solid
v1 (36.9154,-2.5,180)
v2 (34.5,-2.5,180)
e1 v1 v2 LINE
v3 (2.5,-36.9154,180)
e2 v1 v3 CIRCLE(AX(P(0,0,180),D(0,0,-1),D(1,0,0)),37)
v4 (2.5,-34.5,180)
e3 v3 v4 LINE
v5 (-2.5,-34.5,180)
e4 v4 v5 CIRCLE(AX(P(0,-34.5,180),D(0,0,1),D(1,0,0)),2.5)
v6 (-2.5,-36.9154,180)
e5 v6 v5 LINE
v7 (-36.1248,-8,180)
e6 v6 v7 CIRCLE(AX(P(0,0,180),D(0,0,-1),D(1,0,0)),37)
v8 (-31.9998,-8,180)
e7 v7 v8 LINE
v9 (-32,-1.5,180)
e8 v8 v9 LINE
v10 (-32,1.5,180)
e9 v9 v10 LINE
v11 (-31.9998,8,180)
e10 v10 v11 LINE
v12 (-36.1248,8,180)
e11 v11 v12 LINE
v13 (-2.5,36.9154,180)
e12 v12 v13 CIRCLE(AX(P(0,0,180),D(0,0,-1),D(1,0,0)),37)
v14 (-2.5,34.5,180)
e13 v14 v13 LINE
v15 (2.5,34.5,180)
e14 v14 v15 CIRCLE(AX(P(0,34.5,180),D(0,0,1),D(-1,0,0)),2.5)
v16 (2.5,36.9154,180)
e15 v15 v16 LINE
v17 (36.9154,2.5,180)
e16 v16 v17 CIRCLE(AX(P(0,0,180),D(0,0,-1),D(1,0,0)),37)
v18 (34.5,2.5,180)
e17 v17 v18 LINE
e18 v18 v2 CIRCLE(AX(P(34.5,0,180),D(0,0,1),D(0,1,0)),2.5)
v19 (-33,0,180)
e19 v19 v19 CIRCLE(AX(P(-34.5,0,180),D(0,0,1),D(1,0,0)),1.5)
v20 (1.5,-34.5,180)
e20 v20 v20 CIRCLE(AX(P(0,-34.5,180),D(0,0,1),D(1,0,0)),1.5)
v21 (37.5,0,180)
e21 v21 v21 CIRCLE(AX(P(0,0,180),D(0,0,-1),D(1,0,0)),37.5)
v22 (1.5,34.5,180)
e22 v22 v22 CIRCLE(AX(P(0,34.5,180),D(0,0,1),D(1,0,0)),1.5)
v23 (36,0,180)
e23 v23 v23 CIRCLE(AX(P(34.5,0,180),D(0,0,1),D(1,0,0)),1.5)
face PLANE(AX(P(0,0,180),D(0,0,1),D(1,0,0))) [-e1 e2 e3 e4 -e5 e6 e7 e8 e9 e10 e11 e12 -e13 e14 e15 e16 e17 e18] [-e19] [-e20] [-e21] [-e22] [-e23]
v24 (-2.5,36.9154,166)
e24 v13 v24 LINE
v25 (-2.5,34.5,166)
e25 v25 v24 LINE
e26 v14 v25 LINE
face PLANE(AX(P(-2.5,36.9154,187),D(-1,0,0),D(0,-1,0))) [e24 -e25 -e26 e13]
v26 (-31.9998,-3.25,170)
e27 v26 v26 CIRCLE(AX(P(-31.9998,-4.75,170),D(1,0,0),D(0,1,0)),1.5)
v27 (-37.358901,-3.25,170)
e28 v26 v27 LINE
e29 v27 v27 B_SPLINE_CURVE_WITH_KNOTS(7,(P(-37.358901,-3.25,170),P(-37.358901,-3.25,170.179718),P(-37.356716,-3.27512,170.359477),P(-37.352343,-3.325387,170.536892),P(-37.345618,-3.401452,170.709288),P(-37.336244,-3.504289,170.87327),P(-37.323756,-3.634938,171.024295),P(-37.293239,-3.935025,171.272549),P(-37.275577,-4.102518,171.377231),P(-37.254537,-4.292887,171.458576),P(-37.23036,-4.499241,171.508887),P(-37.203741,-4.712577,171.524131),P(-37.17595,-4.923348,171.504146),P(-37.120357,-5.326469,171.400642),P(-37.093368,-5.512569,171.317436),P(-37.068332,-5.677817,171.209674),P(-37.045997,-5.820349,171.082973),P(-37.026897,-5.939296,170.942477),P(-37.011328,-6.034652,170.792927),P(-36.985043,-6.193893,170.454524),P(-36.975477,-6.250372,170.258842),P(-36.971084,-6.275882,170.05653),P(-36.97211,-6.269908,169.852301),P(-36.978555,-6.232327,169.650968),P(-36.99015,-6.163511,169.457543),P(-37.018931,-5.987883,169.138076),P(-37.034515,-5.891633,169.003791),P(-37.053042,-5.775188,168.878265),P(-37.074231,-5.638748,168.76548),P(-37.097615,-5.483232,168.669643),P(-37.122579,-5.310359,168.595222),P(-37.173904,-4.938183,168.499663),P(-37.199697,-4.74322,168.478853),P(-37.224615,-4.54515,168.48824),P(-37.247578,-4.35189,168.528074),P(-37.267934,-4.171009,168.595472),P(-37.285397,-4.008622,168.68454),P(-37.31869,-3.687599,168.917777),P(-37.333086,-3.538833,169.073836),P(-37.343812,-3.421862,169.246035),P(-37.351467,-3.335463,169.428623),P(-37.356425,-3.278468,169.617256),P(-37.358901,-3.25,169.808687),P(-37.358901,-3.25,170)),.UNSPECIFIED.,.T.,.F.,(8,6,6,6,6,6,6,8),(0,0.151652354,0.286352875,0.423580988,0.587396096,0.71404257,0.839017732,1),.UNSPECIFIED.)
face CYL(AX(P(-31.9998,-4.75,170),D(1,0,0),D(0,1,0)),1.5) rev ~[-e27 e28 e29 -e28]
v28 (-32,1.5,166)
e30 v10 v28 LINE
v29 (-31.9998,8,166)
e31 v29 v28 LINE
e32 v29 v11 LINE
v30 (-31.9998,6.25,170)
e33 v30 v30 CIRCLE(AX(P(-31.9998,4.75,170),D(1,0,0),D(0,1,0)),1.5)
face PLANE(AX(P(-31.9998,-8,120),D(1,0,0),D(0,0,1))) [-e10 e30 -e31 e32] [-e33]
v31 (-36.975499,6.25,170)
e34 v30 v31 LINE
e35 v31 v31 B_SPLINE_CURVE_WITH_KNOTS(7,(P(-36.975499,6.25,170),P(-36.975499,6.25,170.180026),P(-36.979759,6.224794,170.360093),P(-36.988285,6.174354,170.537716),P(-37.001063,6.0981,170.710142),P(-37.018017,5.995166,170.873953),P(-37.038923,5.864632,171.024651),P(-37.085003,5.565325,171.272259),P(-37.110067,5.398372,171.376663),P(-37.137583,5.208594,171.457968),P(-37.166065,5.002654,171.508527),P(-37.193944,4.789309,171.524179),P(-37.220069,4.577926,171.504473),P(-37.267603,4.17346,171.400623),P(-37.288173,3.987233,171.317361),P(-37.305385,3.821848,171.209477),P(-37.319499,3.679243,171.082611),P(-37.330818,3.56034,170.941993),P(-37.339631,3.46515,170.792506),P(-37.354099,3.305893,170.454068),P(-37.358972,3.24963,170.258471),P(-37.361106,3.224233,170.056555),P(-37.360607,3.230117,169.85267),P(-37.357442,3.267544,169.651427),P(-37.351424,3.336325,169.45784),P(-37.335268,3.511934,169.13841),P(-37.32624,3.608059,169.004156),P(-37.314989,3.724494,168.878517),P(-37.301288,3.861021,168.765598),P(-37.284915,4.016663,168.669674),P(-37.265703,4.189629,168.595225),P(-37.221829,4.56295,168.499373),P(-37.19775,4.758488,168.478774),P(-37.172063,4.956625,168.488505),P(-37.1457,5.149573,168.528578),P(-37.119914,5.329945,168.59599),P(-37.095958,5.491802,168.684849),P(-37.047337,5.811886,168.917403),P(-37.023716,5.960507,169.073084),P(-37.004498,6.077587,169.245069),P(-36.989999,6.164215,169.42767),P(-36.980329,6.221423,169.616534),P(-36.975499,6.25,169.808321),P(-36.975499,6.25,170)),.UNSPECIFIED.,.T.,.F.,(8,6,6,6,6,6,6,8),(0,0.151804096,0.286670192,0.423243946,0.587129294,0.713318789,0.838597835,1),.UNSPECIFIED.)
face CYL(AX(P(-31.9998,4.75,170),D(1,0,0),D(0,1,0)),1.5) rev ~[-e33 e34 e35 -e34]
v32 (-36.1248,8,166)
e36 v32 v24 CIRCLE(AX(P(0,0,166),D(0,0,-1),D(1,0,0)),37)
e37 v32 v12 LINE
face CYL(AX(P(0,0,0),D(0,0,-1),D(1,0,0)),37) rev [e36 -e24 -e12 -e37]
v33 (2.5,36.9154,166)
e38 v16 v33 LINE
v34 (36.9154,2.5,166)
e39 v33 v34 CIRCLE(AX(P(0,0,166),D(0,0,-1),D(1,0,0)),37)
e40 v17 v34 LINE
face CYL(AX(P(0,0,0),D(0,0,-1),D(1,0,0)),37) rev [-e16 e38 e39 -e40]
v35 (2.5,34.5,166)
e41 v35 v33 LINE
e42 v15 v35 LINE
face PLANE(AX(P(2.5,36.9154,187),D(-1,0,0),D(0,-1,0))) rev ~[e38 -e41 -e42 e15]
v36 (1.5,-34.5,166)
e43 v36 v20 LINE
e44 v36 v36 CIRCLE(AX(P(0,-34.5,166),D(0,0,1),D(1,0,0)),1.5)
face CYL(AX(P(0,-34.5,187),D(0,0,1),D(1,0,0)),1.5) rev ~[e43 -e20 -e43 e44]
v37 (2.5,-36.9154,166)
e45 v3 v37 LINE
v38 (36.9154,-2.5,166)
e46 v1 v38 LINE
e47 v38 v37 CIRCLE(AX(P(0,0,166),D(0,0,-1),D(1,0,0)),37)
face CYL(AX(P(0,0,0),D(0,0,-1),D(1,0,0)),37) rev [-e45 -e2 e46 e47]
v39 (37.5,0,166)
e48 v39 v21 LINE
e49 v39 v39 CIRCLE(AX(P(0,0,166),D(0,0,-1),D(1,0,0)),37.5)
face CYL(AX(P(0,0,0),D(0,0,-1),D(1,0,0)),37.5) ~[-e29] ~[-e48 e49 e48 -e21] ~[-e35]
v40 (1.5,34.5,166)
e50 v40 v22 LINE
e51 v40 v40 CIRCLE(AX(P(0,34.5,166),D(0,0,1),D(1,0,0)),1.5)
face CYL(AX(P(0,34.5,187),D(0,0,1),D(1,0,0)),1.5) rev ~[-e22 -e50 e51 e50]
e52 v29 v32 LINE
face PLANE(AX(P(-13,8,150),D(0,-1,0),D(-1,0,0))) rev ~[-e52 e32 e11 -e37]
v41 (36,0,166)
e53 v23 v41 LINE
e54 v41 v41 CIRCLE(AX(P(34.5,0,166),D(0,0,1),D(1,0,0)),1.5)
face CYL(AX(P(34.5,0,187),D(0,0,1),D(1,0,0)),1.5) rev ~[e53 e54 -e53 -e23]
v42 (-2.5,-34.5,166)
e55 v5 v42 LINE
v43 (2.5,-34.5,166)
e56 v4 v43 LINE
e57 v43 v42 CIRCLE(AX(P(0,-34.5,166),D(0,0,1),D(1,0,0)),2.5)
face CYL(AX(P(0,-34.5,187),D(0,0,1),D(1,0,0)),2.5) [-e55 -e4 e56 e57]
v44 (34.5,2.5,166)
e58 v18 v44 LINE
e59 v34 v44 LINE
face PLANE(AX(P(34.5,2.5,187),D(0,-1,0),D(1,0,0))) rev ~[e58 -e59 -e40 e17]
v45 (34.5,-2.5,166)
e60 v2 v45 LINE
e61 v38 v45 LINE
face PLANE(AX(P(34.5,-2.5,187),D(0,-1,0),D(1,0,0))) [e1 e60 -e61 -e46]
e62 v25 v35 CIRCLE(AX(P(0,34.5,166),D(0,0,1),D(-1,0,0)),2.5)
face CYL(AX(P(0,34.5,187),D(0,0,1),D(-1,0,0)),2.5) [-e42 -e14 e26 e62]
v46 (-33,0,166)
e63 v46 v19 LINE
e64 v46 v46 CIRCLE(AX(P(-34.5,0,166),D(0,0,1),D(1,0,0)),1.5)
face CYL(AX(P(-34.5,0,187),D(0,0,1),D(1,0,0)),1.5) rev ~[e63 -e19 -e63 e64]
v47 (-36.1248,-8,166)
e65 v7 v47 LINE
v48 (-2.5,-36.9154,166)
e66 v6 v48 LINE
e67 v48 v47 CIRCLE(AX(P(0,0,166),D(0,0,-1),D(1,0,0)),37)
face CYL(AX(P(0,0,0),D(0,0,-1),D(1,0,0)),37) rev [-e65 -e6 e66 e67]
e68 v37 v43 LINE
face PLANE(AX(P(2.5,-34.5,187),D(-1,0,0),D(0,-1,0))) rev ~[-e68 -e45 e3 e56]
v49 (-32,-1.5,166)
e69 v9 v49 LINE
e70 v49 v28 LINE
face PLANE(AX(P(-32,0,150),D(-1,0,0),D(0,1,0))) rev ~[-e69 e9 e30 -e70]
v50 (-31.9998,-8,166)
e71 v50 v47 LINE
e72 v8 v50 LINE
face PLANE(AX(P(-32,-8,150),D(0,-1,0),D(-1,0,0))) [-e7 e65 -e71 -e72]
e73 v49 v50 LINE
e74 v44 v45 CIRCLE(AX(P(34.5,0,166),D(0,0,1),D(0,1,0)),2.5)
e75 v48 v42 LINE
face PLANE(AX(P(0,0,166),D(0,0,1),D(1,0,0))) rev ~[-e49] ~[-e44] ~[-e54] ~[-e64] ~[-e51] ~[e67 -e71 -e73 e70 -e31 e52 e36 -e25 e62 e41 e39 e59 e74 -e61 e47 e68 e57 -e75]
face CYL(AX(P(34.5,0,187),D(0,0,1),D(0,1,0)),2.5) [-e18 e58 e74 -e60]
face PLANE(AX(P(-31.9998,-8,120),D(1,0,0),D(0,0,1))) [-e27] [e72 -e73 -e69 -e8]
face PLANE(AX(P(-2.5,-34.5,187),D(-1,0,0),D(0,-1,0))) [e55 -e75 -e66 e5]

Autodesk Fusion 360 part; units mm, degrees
sketch "Esboço2" plane through (0, 0, 0) normal (0, 0, 1) x (1, 0, 0)
  circle A0 centre (0, 0) radius 37.5
  circle A1 centre (0, 0) radius 37
  dimension "d6" = 75
  dimension "d7" = 74
extrude "Extrusão2" add sketch "Esboço2" along normal blind 190
ref_plane "Plano de trabalho9" through (0, 0, 187) normal (0, 0, 1) x (1, 0, 0)
sketch "Esboço10" plane through (0, 0, 187) normal (0, 0, 1) x (1, 0, 0)
  circle A0 centre (0, 0) radius 34.5 construction
  line L0 (0, 0) -> (-68.1762, 0) construction
  line L1 (0, 0) -> (60, 0) construction
  line L2 (0, 0) -> (0, 45) construction
  line L3 (0, 0) -> (0, -43.1659) construction
  circle A1 centre (34.5, 0) radius 1.5
  line L4 (3, -43) -> (3, -42)
  circle A2 centre (0, 34.5) radius 1.5
  circle A3 centre (-34.5, 0) radius 1.5
  circle A4 centre (0, -34.5) radius 1.5
  arc A5 (34.5, 2.5) -> (34.5, -2.5) centre (34.5, 0) ccw
  arc A6 (-2.5, 34.5) -> (2.5, 34.5) centre (0, 34.5) ccw
  arc A7 (-34.5, -2.5) -> (-34.5, 2.5) centre (-34.5, 0) ccw
  arc A8 (2.5, -34.5) -> (-2.5, -34.5) centre (0, -34.5) ccw
  circle A9 centre (0, 0) radius 37
  line L5 (-36.9154, 2.5) -> (-34.4093, 2.5)
  line L6 (-36.9154, -2.5) -> (-34.4093, -2.5)
  line L7 (34.5, 2.5) -> (36.9154, 2.5)
  line L8 (34.5, -2.5) -> (36.9154, -2.5)
  line L9 (2.5, 36.9154) -> (2.5, 34.4093)
  line L10 (-2.5, 36.9154) -> (-2.5, 34.4093)
  line L11 (-2.5, -34.4093) -> (-2.5, -36.9154)
  line L12 (2.5, -34.4093) -> (2.5, -36.9154)
  dimension "d82" = 69
  dimension "d83" = 3
  dimension "d84" = 2.5
  dimension "d85" = 2.5
  dimension "d87" = 360
  dimension "d89" = 360
  dimension "d90" = 2.5
extrude "Extrusão12" add sketch "Esboço10" against normal blind 184 contours A5 A9 L7 L8 | A6 A9 L9 L10 | A8 A9 L11 L12 | A7 A9 L5 L6
thread "Rosca3"
ref_plane "Plano de trabalho3" through (0, 0, 32) normal (0, 0, 1) x (1, 0, 0)
sketch "Esboço3" plane through (0, 0, 32) normal (0, 0, 1) x (1, 0, 0)
  line L0 (0, 0) -> (0, 37) construction
  line L1 (34.2491, 14) -> (-34.2491, 14)
  circle A0 centre (0, 0) radius 37
  line L2 (31.1288, 20) -> (-31.1288, 20)
  line L3 (32.8634, 17) -> (-32.8634, 17)
  circle A1 centre (0, 0) radius 50
  circle A2 centre (0, 0) radius 37.5
  line L4 (-8, 0) -> (8, 0)
  line L5 (8, 0) -> (8, 36.1248)
  line L6 (-8, 0) -> (-8, 36.1248)
  circle A3 centre (0, 34.5) radius 1.5
  line L7 (1.5, 32.5) -> (1.5, 0)
  arc A4 (-2.5, 34.5) -> (2.5, 34.5) centre (0, 34.5) ccw
  line L8 (-1.5, 32.5) -> (-1.5, 0)
  line L9 (27.8634, 24.3441) -> (27.8634, 11)
  line L10 (27.8634, 11) -> (35.327, 11)
  line L11 (-27.8634, 11) -> (-35.327, 11)
  line L12 (-27.8634, 24.3441) -> (-27.8634, 11)
  line L13 (-30.4631, 21) -> (30.4631, 21)
  line L14 (-34.641, 13) -> (34.641, 13)
  line L15 (0, 32) -> (8, 32)
  line L16 (0, 32) -> (-8, 32)
  dimension "d12" = 6
  dimension "d15" = 3
  dimension "d17" = 75
  dimension "d18" = 100
  dimension "d41" = 14
  dimension "d51" = 8
  dimension "d52" = 16
  dimension "d99" = 3
  dimension "d100" = 2.5
  dimension "d115" = 6.5
  dimension "d123" = 5
  dimension "d124" = 6
  dimension "d143" = 4
  dimension "d144" = 4
extrude "Extrusão21" add sketch "Esboço3" along normal blind 6 and the other way blind 6 contours L1 A0 L9 L14 | L1 A0 L3 L9 | A0 L9 L10 L14 | A0 L2 L3 L9 | A0 L2 L9 L13 | A0 L9 L13 | A0 L11 L12 L14 | L1 A0 L12 L14 | L1 A0 L3 L12 | A0 L2 L3 L12 | A0 L12 L13 | A0 L2 L12 L13
sketch "Esboço18" plane through (-27.8634, 0, 0) normal (1, 0, 0) x (0, 1, 0)
  line L0 (24.3441, 26) -> (24.3441, 38)
  line L1 (24.3441, 38) -> (11, 38)
  line L2 (11, 38) -> (11, 26)
  line L3 (11, 26) -> (24.3441, 26)
  circle A0 centre (17, 32) radius 4
  point P0 (11, 32)
  dimension "d166" = 8
  dimension "d167" = 6
  dimension "d168" = 6
ref_plane "Plano de trabalho11" through (0, 0, 0) normal (1, 0, 0) x (0, 1, 0)
extrude "Extrusão23" cut sketch "Esboço18" against normal blind 15 contours A0
extrude "Extrusão7" add sketch "Esboço3" along normal blind 30 and the other way blind 30 contours L1 L5 L7 L14 | L1 L3 L5 L7 | L4 L5 L7 L14 | L2 L3 L5 L7 | L1 L6 L8 L14 | L1 L3 L6 L8 | L2 L5 L7 L13 | L2 L3 L6 L8 | L4 L6 L8 L14 | L5 L7 L13 L15 | A0 L5 L6 L7 A4 L8 L15 L16 | L2 L6 L8 L13 | L6 L8 L13 L16 | L7 A4 L15 | A4 L8 L16
sketch "Esboço19" plane through (27.8634, 0, 0) normal (-1, 0, 0) x (0, -1, 0)
  line L0 (-11, 26) -> (-11, 38)
  line L1 (-11, 38) -> (-24.3441, 38)
  line L2 (-24.3441, 38) -> (-24.3441, 26)
  line L3 (-24.3441, 26) -> (-11, 26)
extrude "Extrusão24" cut sketch "Esboço18" along normal blind 80 contours A0
sketch "Esboço11" plane through (8, 0, 0) normal (1, 0, 0) x (0, 1, 0)
  line L0 (0, 2) -> (36.1248, 2)
  line L1 (36.1248, 2) -> (36.1248, 62)
  line L2 (36.1248, 62) -> (0, 62)
  line L3 (0, 62) -> (0, 2)
  circle A0 centre (17, 32) radius 3
  circle A1 centre (17, 32) radius 9.5
  circle A2 centre (17, 32) radius 12.5
  line L4 (36.1248, 32) -> (36.1248, -5) construction
  line L5 (0, 32) -> (36.1248, 32)
  line L6 (30.1248, 2) -> (8.3278, 22.9976)
  line L7 (30.1248, 62) -> (8.3278, 41.0024)
  line L8 (30.1248, 2) -> (31.9998, 2)
  line L9 (31.9998, 2) -> (31.9998, 32)
  line L10 (30.1248, 62) -> (31.9998, 62)
  line L11 (31.9998, 62) -> (31.9998, 32)
  circle A3 centre (17, 32) radius 4
  point P0 (14, 32)
  point P1 (20, 32)
  dimension "d106" = 6
  dimension "d107" = 19
  dimension "d109" = 25
  dimension "d110" = 6
  dimension "d147" = 1.875
extrude "Extrusão13" cut sketch "Esboço11" against normal blind 16 contours L0 L3 A2 L5 L6 | L0 A2 L5 L6 L8 L9 | L2 L3 A2 L5 L7 | A1 A2 L5 | A1 A2 L5 | L2 A2 L5 L7 L10 L11 | A1 L5 A3 | A1 L5 A3 | A0 L5 A3 | A0 L5 A3 | A0 L5 | A0 L5
ref_plane "Plano de trabalho4" through (0, 0, 150) normal (0, 0, 1) x (1, 0, 0)
sketch "Esboço4" plane through (0, 0, 150) normal (0, 0, 1) x (1, 0, 0)
  circle A0 centre (0, 0) radius 37
  circle A1 centre (0, 0) radius 50
  circle A2 centre (0, 0) radius 37.5
  line L0 (-20, -31.1288) -> (-20, 31.1288)
  line L1 (-17, -32.8634) -> (-17, 32.8634)
  line L2 (-14, -34.2491) -> (-14, 34.2491)
  line L3 (0, 8) -> (0, -8)
  line L4 (0, 8) -> (-36.1248, 8)
  line L5 (0, -8) -> (-36.1248, -8)
  line L6 (0, 0) -> (-37, 0) construction
  circle A3 centre (-34.5, 0) radius 1.5
  line L7 (0, 1.5) -> (-32.5, 1.5)
  arc A4 (-34.5, -2.5) -> (-34.5, 2.5) centre (-34.5, 0) ccw
  line L8 (0, -1.5) -> (-32.5, -1.5)
  line L9 (-24.3441, -27.8634) -> (-11, -27.8634)
  line L10 (-11, -27.8634) -> (-11, -35.327)
  line L11 (-24.3441, 27.8634) -> (-11, 27.8634)
  line L12 (-11, 27.8634) -> (-11, 35.327)
  line L13 (-13, 34.641) -> (-13, -34.641)
  line L14 (-21, 30.4631) -> (-21, -30.4631)
  line L15 (-32, 0) -> (-32, 8)
  line L16 (-32, 0) -> (-32, -8)
  dimension "d28" = 75
  dimension "d29" = 100
  dimension "d38" = 14
  dimension "d39" = 6
  dimension "d40" = 3
  dimension "d43" = 16
  dimension "d44" = 8
  dimension "d101" = 3
  dimension "d102" = 2.5
  dimension "d116" = 6.5
  dimension "d135" = 6
  dimension "d136" = 5
  dimension "d145" = 4
  dimension "d146" = 4
extrude "Extrusão25" add sketch "Esboço4" along normal blind 6 and the other way blind 6 contours A0 L11 L12 L13 | A0 L9 L10 L13 | A0 L2 L11 L13 | A0 L2 L9 L13 | A0 L1 L2 L11 | A0 L1 L2 L9 | A0 L0 L1 L11 | A0 L0 L1 L9 | A0 L0 L11 L14 | A0 L0 L9 L14 | A0 L11 L14 | A0 L9 L14
sketch "Esboço20" plane through (0, 27.8634, 0) normal (0, -1, 0) x (1, 0, 0)
  line L0 (-11, 144) -> (-11, 156)
  line L1 (-11, 156) -> (-24.3441, 156)
  line L2 (-24.3441, 156) -> (-24.3441, 144)
  line L3 (-24.3441, 144) -> (-11, 144)
  circle A0 centre (-17, 150) radius 4
  dimension "d179" = 8
  dimension "d180" = 6
  dimension "d182" = 6
extrude "Extrusão26" cut sketch "Esboço20" against normal blind 15 contours A0
sketch "Esboço21" plane through (0, -27.8634, 0) normal (0, 1, 0) x (-1, 0, 0)
  line L0 (24.3441, 144) -> (24.3441, 156)
  line L1 (24.3441, 156) -> (11, 156)
  line L2 (11, 156) -> (11, 144)
  line L3 (11, 144) -> (24.3441, 144)
  circle A0 centre (17, 150) radius 4
  dimension "d185" = 8
  dimension "d186" = 6
  dimension "d187" = 6
extrude "Extrusão27" cut sketch "Esboço21" against normal blind 15 contours A0
extrude "Extrusão6" add sketch "Esboço4" along normal blind 30 and the other way blind 30 contours L2 L4 L7 L13 | L3 L4 L7 L13 | L3 L5 L8 L13 | L2 L5 L8 L13 | L1 L2 L4 L7 | L1 L2 L5 L8 | L0 L1 L4 L7 | L0 L1 L5 L8 | L0 L4 L7 L14 | L0 L5 L8 L14 | A0 L4 L5 L7 A4 L8 L15 L16 | L4 L7 L14 L15 | L5 L8 L14 L16 | L7 A4 L15 | A4 L8 L16
sketch "Esboço13" plane through (0, -8, 0) normal (0, -1, 0) x (1, 0, 0)
  line L0 (0, 120) -> (0, 180)
  line L1 (0, 180) -> (-36.1248, 180)
  line L2 (-36.1248, 180) -> (-36.1248, 120)
  line L3 (-36.1248, 120) -> (0, 120)
  circle A0 centre (-17, 150) radius 3
  circle A1 centre (-17, 150) radius 9.5
  circle A2 centre (-17, 150) radius 12.5
  line L4 (-36.1248, 150) -> (-36.1248, 198.4836) construction
  line L5 (-30.1248, 180) -> (-6.6704, 157.4058)
  line L6 (0, 150) -> (-36.1248, 150)
  line L7 (-30.1248, 120) -> (-6.6704, 142.5942)
  line L8 (-30.1248, 180) -> (-31.9998, 180)
  line L9 (-31.9998, 180) -> (-31.9998, 150)
  line L10 (-30.1248, 120) -> (-31.9998, 120)
  line L11 (-31.9998, 120) -> (-31.9998, 150)
  point P0 (-14, 150)
  point P1 (-20, 150)
  dimension "d117" = 6
  dimension "d118" = 19
  dimension "d119" = 25
  dimension "d120" = 6
  dimension "d148" = 1.875
extrude "Extrusão14" cut sketch "Esboço13" against normal blind 16 contours L0 L3 A2 L6 L7 | L0 L1 A2 L5 L6 | L3 A2 L6 L7 L10 L11 | A1 A2 L6 | A1 A2 L6 | L1 A2 L5 L6 L8 L9 | A0 A1 L6 | A0 A1 L6 | A0 L6 | A0 L6
ref_plane "Plano de trabalho5" through (0, 0, 0) normal (1, 0, 0) x (0, 1, 0)
ref_plane "Plano de trabalho6" through (0, 0, 0) normal (0, 1, 0) x (0, 0, 1)
ref_plane "Plano de trabalho7" through (0, 0, 134.3) normal (0, 0, 1) x (1, 0, 0)
sketch "Esboço8" plane through (0, 0, 134.3) normal (0, 0, 1) x (1, 0, 0)
  line L0 (46.3444, 0) -> (0, 0) construction
  line L1 (8, 36.1248) -> (8, -36.1248)
  line L2 (-8, -36.1248) -> (-8, 36.1248)
  circle A0 centre (0, 0) radius 37
  line L3 (0, 0) -> (0, 37) construction
  circle A1 centre (0, 34.5) radius 1.5
  circle A2 centre (0, -34.5) radius 1.5
  dimension "d72" = 8
  dimension "d73" = 8
  dimension "d95" = 2.5
  dimension "d96" = 3
extrude "Extrusão10" add sketch "Esboço8" along normal blind 2 contours L1 L2 A0
ref_plane "Plano de trabalho8" through (0, 0, 45.7) normal (0, 0, 1) x (1, 0, 0)
sketch "Esboço9" plane through (0, 0, 45.7) normal (0, 0, 1) x (1, 0, 0)
  line L0 (0, 0) -> (-37, 0) construction
  line L1 (-36.1248, 8) -> (36.1248, 8)
  line L2 (-36.1248, -8) -> (36.1248, -8)
  circle A0 centre (0, 0) radius 37
  circle A1 centre (-34.5, 0) radius 1.5
  line L3 (0, 0) -> (0, 43.2459) construction
  circle A2 centre (34.5, 0) radius 1.5
  dimension "d77" = 8
  dimension "d78" = 8
  dimension "d97" = 3
  dimension "d98" = 2.5
extrude "Extrusão11" add sketch "Esboço9" along normal blind 2 contours L1 L2 A0
ref_plane "Plano de trabalho10" through (8, 18.0624, 32) normal (1, 0, 0) x (0, 1, 0)
sketch "Esboço16" plane through (-31.9998, 0, 0) normal (1, 0, 0) x (0, 1, 0)
  line L0 (1.5, 180) -> (1.5, 120)
  line L1 (1.5, 120) -> (8, 120)
  line L2 (8, 120) -> (8, 180)
  line L3 (8, 180) -> (1.5, 180)
  line L4 (4.75, 180) -> (4.75, 120) construction
  circle A0 centre (4.75, 170) radius 1.5
  circle A1 centre (4.75, 130) radius 1.5
  line L5 (8, 150) -> (-12.335, 150) construction
  line L6 (0, 2.5) -> (0, 20)
  circle A2 centre (-4.75, 170) radius 1.5
  circle A3 centre (-4.75, 130) radius 1.5
  dimension "d149" = 3
  dimension "d150" = 3
  dimension "d151" = 40
  dimension "d152" = 20
extrude "Extrusão19" cut sketch "Esboço16" against normal blind 10 contours A0 | A1 | A2 | A3
sketch "Esboço17" plane through (0, 31.9998, 0) normal (0, -1, 0) x (1, 0, 0)
  line L0 (1.5, 62) -> (1.5, 2)
  line L1 (1.5, 2) -> (8, 2)
  line L2 (8, 2) -> (8, 62)
  line L3 (8, 62) -> (1.5, 62)
  line L4 (4.75, 2) -> (4.75, 62) construction
  line L5 (8, 32) -> (-12, 32) construction
  circle A0 centre (4.75, 52) radius 1.5
  circle A1 centre (4.75, 12) radius 1.5
  line L6 (0, 1.75) -> (0, 22.5)
  circle A2 centre (-4.75, 12) radius 1.5
  circle A3 centre (-4.75, 52) radius 1.5
  dimension "d155" = 3
  dimension "d156" = 3
  dimension "d157" = 40
  dimension "d158" = 20
extrude "Extrusão20" cut sketch "Esboço17" against normal blind 10 contours A0 | A1 | A2 | A3
thread "Rosca4"
thread "Rosca5"
sketch "Esboço22" plane through (0, 0, 136.3) normal (0, 0, 1) x (-1, 0, 0)
  line L0 (2.5, 36.9154) -> (2.5, 34.5)
  arc A0 (-2.5, 34.5) -> (2.5, 34.5) centre (0, 34.5) ccw
  line L1 (-2.5, 34.5) -> (-2.5, 36.9154)
  arc A1 (-2.5, 36.9154) -> (-8, 36.1248) centre (0, 0) ccw
  line L2 (-8, 36.1248) -> (-8, -36.1248)
  arc A2 (-8, -36.1248) -> (-2.5, -36.9154) centre (0, 0) ccw
  line L3 (-2.5, -36.9154) -> (-2.5, -34.5)
  arc A3 (2.5, -34.5) -> (-2.5, -34.5) centre (0, -34.5) ccw
  line L4 (2.5, -34.5) -> (2.5, -36.9154)
  arc A4 (2.5, -36.9154) -> (8, -36.1248) centre (0, 0) ccw
  line L5 (8, -36.1248) -> (8, 36.1248)
  arc A5 (8, 36.1248) -> (2.5, 36.9154) centre (0, 0) ccw
  line L6 (0, 0) -> (-21, 0) construction
  line L7 (0, 0) -> (0, -19.3) construction
  line L8 (2, -15.8) -> (-2, -15.8)
  arc A6 (-2, -15.8) -> (-2, -22.8) centre (-2, -19.3) ccw
  line L9 (-2, -22.8) -> (2, -22.8)
  arc A7 (2, -22.8) -> (2, -15.8) centre (2, -19.3) ccw
  line L10 (2, -19.3) -> (-2, -19.3) construction
  arc A8 (-2, 22.8) -> (-2, 15.8) centre (-2, 19.3) ccw
  line L11 (2, 15.8) -> (-2, 15.8)
  arc A9 (2, 15.8) -> (2, 22.8) centre (2, 19.3) ccw
  line L12 (-2, 22.8) -> (2, 22.8)
  circle A10 centre (0, 10.8) radius 1.5 construction
  line L13 (2, 19.3) -> (-2, 19.3) construction
  line L14 (2, 12.3) -> (-2, 12.3)
  arc A11 (-2, 12.3) -> (-2, 9.3) centre (-2, 10.8) ccw
  line L15 (-2, 9.3) -> (2, 9.3)
  arc A12 (2, 9.3) -> (2, 12.3) centre (2, 10.8) ccw
  line L16 (2, 10.8) -> (-2, 10.8) construction
  line L17 (2, 26.3) -> (-2, 26.3)
  arc A13 (2, 26.3) -> (2, 29.3) centre (2, 27.8) ccw
  line L18 (-2, 29.3) -> (2, 29.3)
  arc A14 (-2, 29.3) -> (-2, 26.3) centre (-2, 27.8) ccw
  arc A15 (2, -29.3) -> (2, -26.3) centre (2, -27.8) ccw
  line L19 (2, -26.3) -> (-2, -26.3)
  arc A16 (-2, -26.3) -> (-2, -29.3) centre (-2, -27.8) ccw
  line L20 (-2, -29.3) -> (2, -29.3)
  arc A17 (2, -12.3) -> (2, -9.3) centre (2, -10.8) ccw
  line L21 (-2, -9.3) -> (2, -9.3)
  arc A18 (-2, -9.3) -> (-2, -12.3) centre (-2, -10.8) ccw
  line L22 (2, -12.3) -> (-2, -12.3)
  point P0 (0, -19.3)
  point P1 (0, 10.8)
  dimension "d191" = 19.3
  dimension "d195" = 2
  dimension "d196" = 3.5
  dimension "d204" = 3
  dimension "d205" = 8.5
  dimension "d230" = 1.5
  dimension "d231" = 4
extrude "Extrusão28" cut sketch "Esboço22" against normal blind 5 contours L8 A6 L9 A7 | A8 L11 A9 L12 | L14 A11 L15 A12 | L17 A13 L18 A14 | A15 L19 A16 L20 | A17 L21 A18 L22
sketch "Esboço23" plane through (0, 0, 45.7) normal (0, 0, -1) x (1, 0, 0)
  line L0 (36.9154, -2.5) -> (34.5, -2.5)
  arc A0 (34.5, 2.5) -> (34.5, -2.5) centre (34.5, 0) ccw
  line L1 (34.5, 2.5) -> (36.9154, 2.5)
  arc A1 (36.9154, 2.5) -> (36.1248, 8) centre (0, 0) ccw
  line L2 (36.1248, 8) -> (-36.1248, 8)
  arc A2 (-36.1248, 8) -> (-36.9154, 2.5) centre (0, 0) ccw
  line L3 (-36.9154, 2.5) -> (-34.5, 2.5)
  arc A3 (-34.5, -2.5) -> (-34.5, 2.5) centre (-34.5, 0) ccw
  line L4 (-34.5, -2.5) -> (-36.9154, -2.5)
  arc A4 (-36.9154, -2.5) -> (-36.1248, -8) centre (0, 0) ccw
  line L5 (-36.1248, -8) -> (36.1248, -8)
  arc A5 (36.1248, -8) -> (36.9154, -2.5) centre (0, 0) ccw
  line L6 (0, 0) -> (0, -19) construction
  line L7 (0, 0) -> (19.3, 0)
  line L8 (15.8, 2.5) -> (15.8, -2.5)
  arc A6 (15.8, -2.5) -> (22.8, -2.5) centre (19.3, -2.5) ccw
  line L9 (22.8, -2.5) -> (22.8, 2.5)
  arc A7 (22.8, 2.5) -> (15.8, 2.5) centre (19.3, 2.5) ccw
  line L10 (19.3, 2.5) -> (19.3, -2.5) construction
  line L11 (-15.8, 2.5) -> (-15.8, -2.5)
  arc A8 (-15.8, 2.5) -> (-22.8, 2.5) centre (-19.3, 2.5) ccw
  line L12 (-22.8, -2.5) -> (-22.8, 2.5)
  arc A9 (-22.8, -2.5) -> (-15.8, -2.5) centre (-19.3, -2.5) ccw
  circle A10 centre (10.8, 0) radius 1.5 construction
  circle A11 centre (27.8, 0) radius 1.5 construction
  line L13 (9.3, 2.5) -> (9.3, -2.5)
  arc A12 (9.3, -2.5) -> (12.3, -2.5) centre (10.8, -2.5) ccw
  line L14 (12.3, -2.5) -> (12.3, 2.5)
  arc A13 (12.3, 2.5) -> (9.3, 2.5) centre (10.8, 2.5) ccw
  line L15 (10.8, 2.5) -> (10.8, -2.5) construction
  line L16 (26.3, -2.5) -> (26.3, 2.5)
  arc A14 (26.3, -2.5) -> (29.3, -2.5) centre (27.8, -2.5) ccw
  line L17 (29.3, 2.5) -> (29.3, -2.5)
  arc A15 (29.3, 2.5) -> (26.3, 2.5) centre (27.8, 2.5) ccw
  line L18 (-12.3, -2.5) -> (-12.3, 2.5)
  arc A16 (-12.3, -2.5) -> (-9.3, -2.5) centre (-10.8, -2.5) ccw
  line L19 (-9.3, 2.5) -> (-9.3, -2.5)
  arc A17 (-9.3, 2.5) -> (-12.3, 2.5) centre (-10.8, 2.5) ccw
  line L20 (-26.3, -2.5) -> (-26.3, 2.5)
  arc A18 (-29.3, -2.5) -> (-26.3, -2.5) centre (-27.8, -2.5) ccw
  line L21 (-29.3, 2.5) -> (-29.3, -2.5)
  arc A19 (-26.3, 2.5) -> (-29.3, 2.5) centre (-27.8, 2.5) ccw
  point P0 (19.3, 0)
  point P1 (10.8, 0)
  dimension "d199" = 3.5
  dimension "d200" = 5
  dimension "d201" = 19.3
  dimension "d206" = 3
  dimension "d207" = 8.5
  dimension "d228" = 2.5
  dimension "d229" = 1.5
extrude "Extrusão29" cut sketch "Esboço23" against normal blind 10 contours L7 L13 L14 A13 | L8 A6 L9 A7 | L7 L13 A12 L14 | L11 A8 L12 A9 | L16 A14 L17 A15 | L20 A18 L21 A19
ref_plane "Plano de trabalho12" through (0, 0, 106.3) normal (0, 0, 1) x (1, 0, 0)
sketch "Esboço24" plane through (0, 0, 106.3) normal (0, 0, 1) x (1, 0, 0)
  line L0 (0, 0) -> (28.1868, 0) construction
  line L1 (16, 0) -> (16, 33.3617)
  circle A0 centre (0, 0) radius 37
  line L2 (16, 0) -> (16, -33.3617)
  line L3 (0, 0) -> (0, 19.3) construction
  line L4 (-16, 0) -> (-16, 33.3617)
  line L5 (-16, 0) -> (-16, -33.3617)
  line L6 (-2, 6.8) -> (2, 6.8)
  arc A1 (2, 6.8) -> (2, 31.8) centre (2, 19.3) ccw
  line L7 (2, 31.8) -> (-2, 31.8)
  arc A2 (-2, 31.8) -> (-2, 6.8) centre (-2, 19.3) ccw
  line L8 (-2, 19.3) -> (2, 19.3) construction
  arc A3 (2, -31.8) -> (2, -6.8) centre (2, -19.3) ccw
  arc A4 (-2, -6.8) -> (-2, -31.8) centre (-2, -19.3) ccw
  line L9 (-2, -6.8) -> (2, -6.8)
  line L10 (2, -31.8) -> (-2, -31.8)
  circle A5 centre (0, 34.5) radius 1.5
  circle A6 centre (0, -34.5) radius 1.5
  point P0 (0, 19.3)
  dimension "d209" = 16
  dimension "d210" = 12.5
  dimension "d211" = 4
  dimension "d212" = 19.3
  dimension "d215" = 3
  dimension "d216" = 34.5
ref_plane "Plano de trabalho13" through (0, 0, 55.7) normal (0, 0, -1) x (-1, 0, 0)
ref_plane "Plano de trabalho14" through (0, 0, 60) normal (0, 0, 1) x (1, 0, 0)
sketch "Esboço25" plane through (0, 0, 55.7) normal (0, 0, -1) x (1, 0, 0)
  line L0 (-33.3617, 16) -> (33.3617, 16)
  circle A0 centre (0, 0) radius 37
  line L1 (0, 0) -> (-19.3, 0) construction
  line L2 (-33.3617, -16) -> (33.3617, -16)
  line L3 (-6.8, -2) -> (-6.8, 2)
  arc A1 (-6.8, 2) -> (-31.8, 2) centre (-19.3, 2) ccw
  line L4 (-31.8, 2) -> (-31.8, -2)
  arc A2 (-31.8, -2) -> (-6.8, -2) centre (-19.3, -2) ccw
  line L5 (-19.3, -2) -> (-19.3, 2) construction
  circle A3 centre (-34.5, 0) radius 1.5
  line L6 (0, 0) -> (0, -12) construction
  arc A4 (31.8, 2) -> (6.8, 2) centre (19.3, 2) ccw
  line L7 (6.8, -2) -> (6.8, 2)
  arc A5 (6.8, -2) -> (31.8, -2) centre (19.3, -2) ccw
  circle A6 centre (34.5, 0) radius 1.5
  line L8 (31.8, 2) -> (31.8, -2)
  point P0 (-19.3, 0)
  dimension "d219" = 16
  dimension "d220" = 12.5
  dimension "d221" = 4
  dimension "d222" = 19.3
  dimension "d224" = 34.5
  dimension "d225" = 3
ref_plane "Plano de trabalho15" through (0, 0, 166) normal (0, 0, 1) x (1, 0, 0)
ref_plane "Plano de trabalho16" through (0, 0, 180) normal (0, 0, 1) x (1, 0, 0)
sketch "Esboço26" plane through (0, 0, 166) normal (0, 0, 1) x (1, 0, 0)
  circle A0 centre (0, 0) radius 44.7214
extrude "Extrusão32" cut sketch "Esboço26" against normal blind 200
sketch "Esboço27" plane through (0, 0, 180) normal (0, 0, 1) x (1, 0, 0)
  circle A0 centre (0, 0) radius 40.6773
extrude "Extrusão33" cut sketch "Esboço27" along normal blind 40
